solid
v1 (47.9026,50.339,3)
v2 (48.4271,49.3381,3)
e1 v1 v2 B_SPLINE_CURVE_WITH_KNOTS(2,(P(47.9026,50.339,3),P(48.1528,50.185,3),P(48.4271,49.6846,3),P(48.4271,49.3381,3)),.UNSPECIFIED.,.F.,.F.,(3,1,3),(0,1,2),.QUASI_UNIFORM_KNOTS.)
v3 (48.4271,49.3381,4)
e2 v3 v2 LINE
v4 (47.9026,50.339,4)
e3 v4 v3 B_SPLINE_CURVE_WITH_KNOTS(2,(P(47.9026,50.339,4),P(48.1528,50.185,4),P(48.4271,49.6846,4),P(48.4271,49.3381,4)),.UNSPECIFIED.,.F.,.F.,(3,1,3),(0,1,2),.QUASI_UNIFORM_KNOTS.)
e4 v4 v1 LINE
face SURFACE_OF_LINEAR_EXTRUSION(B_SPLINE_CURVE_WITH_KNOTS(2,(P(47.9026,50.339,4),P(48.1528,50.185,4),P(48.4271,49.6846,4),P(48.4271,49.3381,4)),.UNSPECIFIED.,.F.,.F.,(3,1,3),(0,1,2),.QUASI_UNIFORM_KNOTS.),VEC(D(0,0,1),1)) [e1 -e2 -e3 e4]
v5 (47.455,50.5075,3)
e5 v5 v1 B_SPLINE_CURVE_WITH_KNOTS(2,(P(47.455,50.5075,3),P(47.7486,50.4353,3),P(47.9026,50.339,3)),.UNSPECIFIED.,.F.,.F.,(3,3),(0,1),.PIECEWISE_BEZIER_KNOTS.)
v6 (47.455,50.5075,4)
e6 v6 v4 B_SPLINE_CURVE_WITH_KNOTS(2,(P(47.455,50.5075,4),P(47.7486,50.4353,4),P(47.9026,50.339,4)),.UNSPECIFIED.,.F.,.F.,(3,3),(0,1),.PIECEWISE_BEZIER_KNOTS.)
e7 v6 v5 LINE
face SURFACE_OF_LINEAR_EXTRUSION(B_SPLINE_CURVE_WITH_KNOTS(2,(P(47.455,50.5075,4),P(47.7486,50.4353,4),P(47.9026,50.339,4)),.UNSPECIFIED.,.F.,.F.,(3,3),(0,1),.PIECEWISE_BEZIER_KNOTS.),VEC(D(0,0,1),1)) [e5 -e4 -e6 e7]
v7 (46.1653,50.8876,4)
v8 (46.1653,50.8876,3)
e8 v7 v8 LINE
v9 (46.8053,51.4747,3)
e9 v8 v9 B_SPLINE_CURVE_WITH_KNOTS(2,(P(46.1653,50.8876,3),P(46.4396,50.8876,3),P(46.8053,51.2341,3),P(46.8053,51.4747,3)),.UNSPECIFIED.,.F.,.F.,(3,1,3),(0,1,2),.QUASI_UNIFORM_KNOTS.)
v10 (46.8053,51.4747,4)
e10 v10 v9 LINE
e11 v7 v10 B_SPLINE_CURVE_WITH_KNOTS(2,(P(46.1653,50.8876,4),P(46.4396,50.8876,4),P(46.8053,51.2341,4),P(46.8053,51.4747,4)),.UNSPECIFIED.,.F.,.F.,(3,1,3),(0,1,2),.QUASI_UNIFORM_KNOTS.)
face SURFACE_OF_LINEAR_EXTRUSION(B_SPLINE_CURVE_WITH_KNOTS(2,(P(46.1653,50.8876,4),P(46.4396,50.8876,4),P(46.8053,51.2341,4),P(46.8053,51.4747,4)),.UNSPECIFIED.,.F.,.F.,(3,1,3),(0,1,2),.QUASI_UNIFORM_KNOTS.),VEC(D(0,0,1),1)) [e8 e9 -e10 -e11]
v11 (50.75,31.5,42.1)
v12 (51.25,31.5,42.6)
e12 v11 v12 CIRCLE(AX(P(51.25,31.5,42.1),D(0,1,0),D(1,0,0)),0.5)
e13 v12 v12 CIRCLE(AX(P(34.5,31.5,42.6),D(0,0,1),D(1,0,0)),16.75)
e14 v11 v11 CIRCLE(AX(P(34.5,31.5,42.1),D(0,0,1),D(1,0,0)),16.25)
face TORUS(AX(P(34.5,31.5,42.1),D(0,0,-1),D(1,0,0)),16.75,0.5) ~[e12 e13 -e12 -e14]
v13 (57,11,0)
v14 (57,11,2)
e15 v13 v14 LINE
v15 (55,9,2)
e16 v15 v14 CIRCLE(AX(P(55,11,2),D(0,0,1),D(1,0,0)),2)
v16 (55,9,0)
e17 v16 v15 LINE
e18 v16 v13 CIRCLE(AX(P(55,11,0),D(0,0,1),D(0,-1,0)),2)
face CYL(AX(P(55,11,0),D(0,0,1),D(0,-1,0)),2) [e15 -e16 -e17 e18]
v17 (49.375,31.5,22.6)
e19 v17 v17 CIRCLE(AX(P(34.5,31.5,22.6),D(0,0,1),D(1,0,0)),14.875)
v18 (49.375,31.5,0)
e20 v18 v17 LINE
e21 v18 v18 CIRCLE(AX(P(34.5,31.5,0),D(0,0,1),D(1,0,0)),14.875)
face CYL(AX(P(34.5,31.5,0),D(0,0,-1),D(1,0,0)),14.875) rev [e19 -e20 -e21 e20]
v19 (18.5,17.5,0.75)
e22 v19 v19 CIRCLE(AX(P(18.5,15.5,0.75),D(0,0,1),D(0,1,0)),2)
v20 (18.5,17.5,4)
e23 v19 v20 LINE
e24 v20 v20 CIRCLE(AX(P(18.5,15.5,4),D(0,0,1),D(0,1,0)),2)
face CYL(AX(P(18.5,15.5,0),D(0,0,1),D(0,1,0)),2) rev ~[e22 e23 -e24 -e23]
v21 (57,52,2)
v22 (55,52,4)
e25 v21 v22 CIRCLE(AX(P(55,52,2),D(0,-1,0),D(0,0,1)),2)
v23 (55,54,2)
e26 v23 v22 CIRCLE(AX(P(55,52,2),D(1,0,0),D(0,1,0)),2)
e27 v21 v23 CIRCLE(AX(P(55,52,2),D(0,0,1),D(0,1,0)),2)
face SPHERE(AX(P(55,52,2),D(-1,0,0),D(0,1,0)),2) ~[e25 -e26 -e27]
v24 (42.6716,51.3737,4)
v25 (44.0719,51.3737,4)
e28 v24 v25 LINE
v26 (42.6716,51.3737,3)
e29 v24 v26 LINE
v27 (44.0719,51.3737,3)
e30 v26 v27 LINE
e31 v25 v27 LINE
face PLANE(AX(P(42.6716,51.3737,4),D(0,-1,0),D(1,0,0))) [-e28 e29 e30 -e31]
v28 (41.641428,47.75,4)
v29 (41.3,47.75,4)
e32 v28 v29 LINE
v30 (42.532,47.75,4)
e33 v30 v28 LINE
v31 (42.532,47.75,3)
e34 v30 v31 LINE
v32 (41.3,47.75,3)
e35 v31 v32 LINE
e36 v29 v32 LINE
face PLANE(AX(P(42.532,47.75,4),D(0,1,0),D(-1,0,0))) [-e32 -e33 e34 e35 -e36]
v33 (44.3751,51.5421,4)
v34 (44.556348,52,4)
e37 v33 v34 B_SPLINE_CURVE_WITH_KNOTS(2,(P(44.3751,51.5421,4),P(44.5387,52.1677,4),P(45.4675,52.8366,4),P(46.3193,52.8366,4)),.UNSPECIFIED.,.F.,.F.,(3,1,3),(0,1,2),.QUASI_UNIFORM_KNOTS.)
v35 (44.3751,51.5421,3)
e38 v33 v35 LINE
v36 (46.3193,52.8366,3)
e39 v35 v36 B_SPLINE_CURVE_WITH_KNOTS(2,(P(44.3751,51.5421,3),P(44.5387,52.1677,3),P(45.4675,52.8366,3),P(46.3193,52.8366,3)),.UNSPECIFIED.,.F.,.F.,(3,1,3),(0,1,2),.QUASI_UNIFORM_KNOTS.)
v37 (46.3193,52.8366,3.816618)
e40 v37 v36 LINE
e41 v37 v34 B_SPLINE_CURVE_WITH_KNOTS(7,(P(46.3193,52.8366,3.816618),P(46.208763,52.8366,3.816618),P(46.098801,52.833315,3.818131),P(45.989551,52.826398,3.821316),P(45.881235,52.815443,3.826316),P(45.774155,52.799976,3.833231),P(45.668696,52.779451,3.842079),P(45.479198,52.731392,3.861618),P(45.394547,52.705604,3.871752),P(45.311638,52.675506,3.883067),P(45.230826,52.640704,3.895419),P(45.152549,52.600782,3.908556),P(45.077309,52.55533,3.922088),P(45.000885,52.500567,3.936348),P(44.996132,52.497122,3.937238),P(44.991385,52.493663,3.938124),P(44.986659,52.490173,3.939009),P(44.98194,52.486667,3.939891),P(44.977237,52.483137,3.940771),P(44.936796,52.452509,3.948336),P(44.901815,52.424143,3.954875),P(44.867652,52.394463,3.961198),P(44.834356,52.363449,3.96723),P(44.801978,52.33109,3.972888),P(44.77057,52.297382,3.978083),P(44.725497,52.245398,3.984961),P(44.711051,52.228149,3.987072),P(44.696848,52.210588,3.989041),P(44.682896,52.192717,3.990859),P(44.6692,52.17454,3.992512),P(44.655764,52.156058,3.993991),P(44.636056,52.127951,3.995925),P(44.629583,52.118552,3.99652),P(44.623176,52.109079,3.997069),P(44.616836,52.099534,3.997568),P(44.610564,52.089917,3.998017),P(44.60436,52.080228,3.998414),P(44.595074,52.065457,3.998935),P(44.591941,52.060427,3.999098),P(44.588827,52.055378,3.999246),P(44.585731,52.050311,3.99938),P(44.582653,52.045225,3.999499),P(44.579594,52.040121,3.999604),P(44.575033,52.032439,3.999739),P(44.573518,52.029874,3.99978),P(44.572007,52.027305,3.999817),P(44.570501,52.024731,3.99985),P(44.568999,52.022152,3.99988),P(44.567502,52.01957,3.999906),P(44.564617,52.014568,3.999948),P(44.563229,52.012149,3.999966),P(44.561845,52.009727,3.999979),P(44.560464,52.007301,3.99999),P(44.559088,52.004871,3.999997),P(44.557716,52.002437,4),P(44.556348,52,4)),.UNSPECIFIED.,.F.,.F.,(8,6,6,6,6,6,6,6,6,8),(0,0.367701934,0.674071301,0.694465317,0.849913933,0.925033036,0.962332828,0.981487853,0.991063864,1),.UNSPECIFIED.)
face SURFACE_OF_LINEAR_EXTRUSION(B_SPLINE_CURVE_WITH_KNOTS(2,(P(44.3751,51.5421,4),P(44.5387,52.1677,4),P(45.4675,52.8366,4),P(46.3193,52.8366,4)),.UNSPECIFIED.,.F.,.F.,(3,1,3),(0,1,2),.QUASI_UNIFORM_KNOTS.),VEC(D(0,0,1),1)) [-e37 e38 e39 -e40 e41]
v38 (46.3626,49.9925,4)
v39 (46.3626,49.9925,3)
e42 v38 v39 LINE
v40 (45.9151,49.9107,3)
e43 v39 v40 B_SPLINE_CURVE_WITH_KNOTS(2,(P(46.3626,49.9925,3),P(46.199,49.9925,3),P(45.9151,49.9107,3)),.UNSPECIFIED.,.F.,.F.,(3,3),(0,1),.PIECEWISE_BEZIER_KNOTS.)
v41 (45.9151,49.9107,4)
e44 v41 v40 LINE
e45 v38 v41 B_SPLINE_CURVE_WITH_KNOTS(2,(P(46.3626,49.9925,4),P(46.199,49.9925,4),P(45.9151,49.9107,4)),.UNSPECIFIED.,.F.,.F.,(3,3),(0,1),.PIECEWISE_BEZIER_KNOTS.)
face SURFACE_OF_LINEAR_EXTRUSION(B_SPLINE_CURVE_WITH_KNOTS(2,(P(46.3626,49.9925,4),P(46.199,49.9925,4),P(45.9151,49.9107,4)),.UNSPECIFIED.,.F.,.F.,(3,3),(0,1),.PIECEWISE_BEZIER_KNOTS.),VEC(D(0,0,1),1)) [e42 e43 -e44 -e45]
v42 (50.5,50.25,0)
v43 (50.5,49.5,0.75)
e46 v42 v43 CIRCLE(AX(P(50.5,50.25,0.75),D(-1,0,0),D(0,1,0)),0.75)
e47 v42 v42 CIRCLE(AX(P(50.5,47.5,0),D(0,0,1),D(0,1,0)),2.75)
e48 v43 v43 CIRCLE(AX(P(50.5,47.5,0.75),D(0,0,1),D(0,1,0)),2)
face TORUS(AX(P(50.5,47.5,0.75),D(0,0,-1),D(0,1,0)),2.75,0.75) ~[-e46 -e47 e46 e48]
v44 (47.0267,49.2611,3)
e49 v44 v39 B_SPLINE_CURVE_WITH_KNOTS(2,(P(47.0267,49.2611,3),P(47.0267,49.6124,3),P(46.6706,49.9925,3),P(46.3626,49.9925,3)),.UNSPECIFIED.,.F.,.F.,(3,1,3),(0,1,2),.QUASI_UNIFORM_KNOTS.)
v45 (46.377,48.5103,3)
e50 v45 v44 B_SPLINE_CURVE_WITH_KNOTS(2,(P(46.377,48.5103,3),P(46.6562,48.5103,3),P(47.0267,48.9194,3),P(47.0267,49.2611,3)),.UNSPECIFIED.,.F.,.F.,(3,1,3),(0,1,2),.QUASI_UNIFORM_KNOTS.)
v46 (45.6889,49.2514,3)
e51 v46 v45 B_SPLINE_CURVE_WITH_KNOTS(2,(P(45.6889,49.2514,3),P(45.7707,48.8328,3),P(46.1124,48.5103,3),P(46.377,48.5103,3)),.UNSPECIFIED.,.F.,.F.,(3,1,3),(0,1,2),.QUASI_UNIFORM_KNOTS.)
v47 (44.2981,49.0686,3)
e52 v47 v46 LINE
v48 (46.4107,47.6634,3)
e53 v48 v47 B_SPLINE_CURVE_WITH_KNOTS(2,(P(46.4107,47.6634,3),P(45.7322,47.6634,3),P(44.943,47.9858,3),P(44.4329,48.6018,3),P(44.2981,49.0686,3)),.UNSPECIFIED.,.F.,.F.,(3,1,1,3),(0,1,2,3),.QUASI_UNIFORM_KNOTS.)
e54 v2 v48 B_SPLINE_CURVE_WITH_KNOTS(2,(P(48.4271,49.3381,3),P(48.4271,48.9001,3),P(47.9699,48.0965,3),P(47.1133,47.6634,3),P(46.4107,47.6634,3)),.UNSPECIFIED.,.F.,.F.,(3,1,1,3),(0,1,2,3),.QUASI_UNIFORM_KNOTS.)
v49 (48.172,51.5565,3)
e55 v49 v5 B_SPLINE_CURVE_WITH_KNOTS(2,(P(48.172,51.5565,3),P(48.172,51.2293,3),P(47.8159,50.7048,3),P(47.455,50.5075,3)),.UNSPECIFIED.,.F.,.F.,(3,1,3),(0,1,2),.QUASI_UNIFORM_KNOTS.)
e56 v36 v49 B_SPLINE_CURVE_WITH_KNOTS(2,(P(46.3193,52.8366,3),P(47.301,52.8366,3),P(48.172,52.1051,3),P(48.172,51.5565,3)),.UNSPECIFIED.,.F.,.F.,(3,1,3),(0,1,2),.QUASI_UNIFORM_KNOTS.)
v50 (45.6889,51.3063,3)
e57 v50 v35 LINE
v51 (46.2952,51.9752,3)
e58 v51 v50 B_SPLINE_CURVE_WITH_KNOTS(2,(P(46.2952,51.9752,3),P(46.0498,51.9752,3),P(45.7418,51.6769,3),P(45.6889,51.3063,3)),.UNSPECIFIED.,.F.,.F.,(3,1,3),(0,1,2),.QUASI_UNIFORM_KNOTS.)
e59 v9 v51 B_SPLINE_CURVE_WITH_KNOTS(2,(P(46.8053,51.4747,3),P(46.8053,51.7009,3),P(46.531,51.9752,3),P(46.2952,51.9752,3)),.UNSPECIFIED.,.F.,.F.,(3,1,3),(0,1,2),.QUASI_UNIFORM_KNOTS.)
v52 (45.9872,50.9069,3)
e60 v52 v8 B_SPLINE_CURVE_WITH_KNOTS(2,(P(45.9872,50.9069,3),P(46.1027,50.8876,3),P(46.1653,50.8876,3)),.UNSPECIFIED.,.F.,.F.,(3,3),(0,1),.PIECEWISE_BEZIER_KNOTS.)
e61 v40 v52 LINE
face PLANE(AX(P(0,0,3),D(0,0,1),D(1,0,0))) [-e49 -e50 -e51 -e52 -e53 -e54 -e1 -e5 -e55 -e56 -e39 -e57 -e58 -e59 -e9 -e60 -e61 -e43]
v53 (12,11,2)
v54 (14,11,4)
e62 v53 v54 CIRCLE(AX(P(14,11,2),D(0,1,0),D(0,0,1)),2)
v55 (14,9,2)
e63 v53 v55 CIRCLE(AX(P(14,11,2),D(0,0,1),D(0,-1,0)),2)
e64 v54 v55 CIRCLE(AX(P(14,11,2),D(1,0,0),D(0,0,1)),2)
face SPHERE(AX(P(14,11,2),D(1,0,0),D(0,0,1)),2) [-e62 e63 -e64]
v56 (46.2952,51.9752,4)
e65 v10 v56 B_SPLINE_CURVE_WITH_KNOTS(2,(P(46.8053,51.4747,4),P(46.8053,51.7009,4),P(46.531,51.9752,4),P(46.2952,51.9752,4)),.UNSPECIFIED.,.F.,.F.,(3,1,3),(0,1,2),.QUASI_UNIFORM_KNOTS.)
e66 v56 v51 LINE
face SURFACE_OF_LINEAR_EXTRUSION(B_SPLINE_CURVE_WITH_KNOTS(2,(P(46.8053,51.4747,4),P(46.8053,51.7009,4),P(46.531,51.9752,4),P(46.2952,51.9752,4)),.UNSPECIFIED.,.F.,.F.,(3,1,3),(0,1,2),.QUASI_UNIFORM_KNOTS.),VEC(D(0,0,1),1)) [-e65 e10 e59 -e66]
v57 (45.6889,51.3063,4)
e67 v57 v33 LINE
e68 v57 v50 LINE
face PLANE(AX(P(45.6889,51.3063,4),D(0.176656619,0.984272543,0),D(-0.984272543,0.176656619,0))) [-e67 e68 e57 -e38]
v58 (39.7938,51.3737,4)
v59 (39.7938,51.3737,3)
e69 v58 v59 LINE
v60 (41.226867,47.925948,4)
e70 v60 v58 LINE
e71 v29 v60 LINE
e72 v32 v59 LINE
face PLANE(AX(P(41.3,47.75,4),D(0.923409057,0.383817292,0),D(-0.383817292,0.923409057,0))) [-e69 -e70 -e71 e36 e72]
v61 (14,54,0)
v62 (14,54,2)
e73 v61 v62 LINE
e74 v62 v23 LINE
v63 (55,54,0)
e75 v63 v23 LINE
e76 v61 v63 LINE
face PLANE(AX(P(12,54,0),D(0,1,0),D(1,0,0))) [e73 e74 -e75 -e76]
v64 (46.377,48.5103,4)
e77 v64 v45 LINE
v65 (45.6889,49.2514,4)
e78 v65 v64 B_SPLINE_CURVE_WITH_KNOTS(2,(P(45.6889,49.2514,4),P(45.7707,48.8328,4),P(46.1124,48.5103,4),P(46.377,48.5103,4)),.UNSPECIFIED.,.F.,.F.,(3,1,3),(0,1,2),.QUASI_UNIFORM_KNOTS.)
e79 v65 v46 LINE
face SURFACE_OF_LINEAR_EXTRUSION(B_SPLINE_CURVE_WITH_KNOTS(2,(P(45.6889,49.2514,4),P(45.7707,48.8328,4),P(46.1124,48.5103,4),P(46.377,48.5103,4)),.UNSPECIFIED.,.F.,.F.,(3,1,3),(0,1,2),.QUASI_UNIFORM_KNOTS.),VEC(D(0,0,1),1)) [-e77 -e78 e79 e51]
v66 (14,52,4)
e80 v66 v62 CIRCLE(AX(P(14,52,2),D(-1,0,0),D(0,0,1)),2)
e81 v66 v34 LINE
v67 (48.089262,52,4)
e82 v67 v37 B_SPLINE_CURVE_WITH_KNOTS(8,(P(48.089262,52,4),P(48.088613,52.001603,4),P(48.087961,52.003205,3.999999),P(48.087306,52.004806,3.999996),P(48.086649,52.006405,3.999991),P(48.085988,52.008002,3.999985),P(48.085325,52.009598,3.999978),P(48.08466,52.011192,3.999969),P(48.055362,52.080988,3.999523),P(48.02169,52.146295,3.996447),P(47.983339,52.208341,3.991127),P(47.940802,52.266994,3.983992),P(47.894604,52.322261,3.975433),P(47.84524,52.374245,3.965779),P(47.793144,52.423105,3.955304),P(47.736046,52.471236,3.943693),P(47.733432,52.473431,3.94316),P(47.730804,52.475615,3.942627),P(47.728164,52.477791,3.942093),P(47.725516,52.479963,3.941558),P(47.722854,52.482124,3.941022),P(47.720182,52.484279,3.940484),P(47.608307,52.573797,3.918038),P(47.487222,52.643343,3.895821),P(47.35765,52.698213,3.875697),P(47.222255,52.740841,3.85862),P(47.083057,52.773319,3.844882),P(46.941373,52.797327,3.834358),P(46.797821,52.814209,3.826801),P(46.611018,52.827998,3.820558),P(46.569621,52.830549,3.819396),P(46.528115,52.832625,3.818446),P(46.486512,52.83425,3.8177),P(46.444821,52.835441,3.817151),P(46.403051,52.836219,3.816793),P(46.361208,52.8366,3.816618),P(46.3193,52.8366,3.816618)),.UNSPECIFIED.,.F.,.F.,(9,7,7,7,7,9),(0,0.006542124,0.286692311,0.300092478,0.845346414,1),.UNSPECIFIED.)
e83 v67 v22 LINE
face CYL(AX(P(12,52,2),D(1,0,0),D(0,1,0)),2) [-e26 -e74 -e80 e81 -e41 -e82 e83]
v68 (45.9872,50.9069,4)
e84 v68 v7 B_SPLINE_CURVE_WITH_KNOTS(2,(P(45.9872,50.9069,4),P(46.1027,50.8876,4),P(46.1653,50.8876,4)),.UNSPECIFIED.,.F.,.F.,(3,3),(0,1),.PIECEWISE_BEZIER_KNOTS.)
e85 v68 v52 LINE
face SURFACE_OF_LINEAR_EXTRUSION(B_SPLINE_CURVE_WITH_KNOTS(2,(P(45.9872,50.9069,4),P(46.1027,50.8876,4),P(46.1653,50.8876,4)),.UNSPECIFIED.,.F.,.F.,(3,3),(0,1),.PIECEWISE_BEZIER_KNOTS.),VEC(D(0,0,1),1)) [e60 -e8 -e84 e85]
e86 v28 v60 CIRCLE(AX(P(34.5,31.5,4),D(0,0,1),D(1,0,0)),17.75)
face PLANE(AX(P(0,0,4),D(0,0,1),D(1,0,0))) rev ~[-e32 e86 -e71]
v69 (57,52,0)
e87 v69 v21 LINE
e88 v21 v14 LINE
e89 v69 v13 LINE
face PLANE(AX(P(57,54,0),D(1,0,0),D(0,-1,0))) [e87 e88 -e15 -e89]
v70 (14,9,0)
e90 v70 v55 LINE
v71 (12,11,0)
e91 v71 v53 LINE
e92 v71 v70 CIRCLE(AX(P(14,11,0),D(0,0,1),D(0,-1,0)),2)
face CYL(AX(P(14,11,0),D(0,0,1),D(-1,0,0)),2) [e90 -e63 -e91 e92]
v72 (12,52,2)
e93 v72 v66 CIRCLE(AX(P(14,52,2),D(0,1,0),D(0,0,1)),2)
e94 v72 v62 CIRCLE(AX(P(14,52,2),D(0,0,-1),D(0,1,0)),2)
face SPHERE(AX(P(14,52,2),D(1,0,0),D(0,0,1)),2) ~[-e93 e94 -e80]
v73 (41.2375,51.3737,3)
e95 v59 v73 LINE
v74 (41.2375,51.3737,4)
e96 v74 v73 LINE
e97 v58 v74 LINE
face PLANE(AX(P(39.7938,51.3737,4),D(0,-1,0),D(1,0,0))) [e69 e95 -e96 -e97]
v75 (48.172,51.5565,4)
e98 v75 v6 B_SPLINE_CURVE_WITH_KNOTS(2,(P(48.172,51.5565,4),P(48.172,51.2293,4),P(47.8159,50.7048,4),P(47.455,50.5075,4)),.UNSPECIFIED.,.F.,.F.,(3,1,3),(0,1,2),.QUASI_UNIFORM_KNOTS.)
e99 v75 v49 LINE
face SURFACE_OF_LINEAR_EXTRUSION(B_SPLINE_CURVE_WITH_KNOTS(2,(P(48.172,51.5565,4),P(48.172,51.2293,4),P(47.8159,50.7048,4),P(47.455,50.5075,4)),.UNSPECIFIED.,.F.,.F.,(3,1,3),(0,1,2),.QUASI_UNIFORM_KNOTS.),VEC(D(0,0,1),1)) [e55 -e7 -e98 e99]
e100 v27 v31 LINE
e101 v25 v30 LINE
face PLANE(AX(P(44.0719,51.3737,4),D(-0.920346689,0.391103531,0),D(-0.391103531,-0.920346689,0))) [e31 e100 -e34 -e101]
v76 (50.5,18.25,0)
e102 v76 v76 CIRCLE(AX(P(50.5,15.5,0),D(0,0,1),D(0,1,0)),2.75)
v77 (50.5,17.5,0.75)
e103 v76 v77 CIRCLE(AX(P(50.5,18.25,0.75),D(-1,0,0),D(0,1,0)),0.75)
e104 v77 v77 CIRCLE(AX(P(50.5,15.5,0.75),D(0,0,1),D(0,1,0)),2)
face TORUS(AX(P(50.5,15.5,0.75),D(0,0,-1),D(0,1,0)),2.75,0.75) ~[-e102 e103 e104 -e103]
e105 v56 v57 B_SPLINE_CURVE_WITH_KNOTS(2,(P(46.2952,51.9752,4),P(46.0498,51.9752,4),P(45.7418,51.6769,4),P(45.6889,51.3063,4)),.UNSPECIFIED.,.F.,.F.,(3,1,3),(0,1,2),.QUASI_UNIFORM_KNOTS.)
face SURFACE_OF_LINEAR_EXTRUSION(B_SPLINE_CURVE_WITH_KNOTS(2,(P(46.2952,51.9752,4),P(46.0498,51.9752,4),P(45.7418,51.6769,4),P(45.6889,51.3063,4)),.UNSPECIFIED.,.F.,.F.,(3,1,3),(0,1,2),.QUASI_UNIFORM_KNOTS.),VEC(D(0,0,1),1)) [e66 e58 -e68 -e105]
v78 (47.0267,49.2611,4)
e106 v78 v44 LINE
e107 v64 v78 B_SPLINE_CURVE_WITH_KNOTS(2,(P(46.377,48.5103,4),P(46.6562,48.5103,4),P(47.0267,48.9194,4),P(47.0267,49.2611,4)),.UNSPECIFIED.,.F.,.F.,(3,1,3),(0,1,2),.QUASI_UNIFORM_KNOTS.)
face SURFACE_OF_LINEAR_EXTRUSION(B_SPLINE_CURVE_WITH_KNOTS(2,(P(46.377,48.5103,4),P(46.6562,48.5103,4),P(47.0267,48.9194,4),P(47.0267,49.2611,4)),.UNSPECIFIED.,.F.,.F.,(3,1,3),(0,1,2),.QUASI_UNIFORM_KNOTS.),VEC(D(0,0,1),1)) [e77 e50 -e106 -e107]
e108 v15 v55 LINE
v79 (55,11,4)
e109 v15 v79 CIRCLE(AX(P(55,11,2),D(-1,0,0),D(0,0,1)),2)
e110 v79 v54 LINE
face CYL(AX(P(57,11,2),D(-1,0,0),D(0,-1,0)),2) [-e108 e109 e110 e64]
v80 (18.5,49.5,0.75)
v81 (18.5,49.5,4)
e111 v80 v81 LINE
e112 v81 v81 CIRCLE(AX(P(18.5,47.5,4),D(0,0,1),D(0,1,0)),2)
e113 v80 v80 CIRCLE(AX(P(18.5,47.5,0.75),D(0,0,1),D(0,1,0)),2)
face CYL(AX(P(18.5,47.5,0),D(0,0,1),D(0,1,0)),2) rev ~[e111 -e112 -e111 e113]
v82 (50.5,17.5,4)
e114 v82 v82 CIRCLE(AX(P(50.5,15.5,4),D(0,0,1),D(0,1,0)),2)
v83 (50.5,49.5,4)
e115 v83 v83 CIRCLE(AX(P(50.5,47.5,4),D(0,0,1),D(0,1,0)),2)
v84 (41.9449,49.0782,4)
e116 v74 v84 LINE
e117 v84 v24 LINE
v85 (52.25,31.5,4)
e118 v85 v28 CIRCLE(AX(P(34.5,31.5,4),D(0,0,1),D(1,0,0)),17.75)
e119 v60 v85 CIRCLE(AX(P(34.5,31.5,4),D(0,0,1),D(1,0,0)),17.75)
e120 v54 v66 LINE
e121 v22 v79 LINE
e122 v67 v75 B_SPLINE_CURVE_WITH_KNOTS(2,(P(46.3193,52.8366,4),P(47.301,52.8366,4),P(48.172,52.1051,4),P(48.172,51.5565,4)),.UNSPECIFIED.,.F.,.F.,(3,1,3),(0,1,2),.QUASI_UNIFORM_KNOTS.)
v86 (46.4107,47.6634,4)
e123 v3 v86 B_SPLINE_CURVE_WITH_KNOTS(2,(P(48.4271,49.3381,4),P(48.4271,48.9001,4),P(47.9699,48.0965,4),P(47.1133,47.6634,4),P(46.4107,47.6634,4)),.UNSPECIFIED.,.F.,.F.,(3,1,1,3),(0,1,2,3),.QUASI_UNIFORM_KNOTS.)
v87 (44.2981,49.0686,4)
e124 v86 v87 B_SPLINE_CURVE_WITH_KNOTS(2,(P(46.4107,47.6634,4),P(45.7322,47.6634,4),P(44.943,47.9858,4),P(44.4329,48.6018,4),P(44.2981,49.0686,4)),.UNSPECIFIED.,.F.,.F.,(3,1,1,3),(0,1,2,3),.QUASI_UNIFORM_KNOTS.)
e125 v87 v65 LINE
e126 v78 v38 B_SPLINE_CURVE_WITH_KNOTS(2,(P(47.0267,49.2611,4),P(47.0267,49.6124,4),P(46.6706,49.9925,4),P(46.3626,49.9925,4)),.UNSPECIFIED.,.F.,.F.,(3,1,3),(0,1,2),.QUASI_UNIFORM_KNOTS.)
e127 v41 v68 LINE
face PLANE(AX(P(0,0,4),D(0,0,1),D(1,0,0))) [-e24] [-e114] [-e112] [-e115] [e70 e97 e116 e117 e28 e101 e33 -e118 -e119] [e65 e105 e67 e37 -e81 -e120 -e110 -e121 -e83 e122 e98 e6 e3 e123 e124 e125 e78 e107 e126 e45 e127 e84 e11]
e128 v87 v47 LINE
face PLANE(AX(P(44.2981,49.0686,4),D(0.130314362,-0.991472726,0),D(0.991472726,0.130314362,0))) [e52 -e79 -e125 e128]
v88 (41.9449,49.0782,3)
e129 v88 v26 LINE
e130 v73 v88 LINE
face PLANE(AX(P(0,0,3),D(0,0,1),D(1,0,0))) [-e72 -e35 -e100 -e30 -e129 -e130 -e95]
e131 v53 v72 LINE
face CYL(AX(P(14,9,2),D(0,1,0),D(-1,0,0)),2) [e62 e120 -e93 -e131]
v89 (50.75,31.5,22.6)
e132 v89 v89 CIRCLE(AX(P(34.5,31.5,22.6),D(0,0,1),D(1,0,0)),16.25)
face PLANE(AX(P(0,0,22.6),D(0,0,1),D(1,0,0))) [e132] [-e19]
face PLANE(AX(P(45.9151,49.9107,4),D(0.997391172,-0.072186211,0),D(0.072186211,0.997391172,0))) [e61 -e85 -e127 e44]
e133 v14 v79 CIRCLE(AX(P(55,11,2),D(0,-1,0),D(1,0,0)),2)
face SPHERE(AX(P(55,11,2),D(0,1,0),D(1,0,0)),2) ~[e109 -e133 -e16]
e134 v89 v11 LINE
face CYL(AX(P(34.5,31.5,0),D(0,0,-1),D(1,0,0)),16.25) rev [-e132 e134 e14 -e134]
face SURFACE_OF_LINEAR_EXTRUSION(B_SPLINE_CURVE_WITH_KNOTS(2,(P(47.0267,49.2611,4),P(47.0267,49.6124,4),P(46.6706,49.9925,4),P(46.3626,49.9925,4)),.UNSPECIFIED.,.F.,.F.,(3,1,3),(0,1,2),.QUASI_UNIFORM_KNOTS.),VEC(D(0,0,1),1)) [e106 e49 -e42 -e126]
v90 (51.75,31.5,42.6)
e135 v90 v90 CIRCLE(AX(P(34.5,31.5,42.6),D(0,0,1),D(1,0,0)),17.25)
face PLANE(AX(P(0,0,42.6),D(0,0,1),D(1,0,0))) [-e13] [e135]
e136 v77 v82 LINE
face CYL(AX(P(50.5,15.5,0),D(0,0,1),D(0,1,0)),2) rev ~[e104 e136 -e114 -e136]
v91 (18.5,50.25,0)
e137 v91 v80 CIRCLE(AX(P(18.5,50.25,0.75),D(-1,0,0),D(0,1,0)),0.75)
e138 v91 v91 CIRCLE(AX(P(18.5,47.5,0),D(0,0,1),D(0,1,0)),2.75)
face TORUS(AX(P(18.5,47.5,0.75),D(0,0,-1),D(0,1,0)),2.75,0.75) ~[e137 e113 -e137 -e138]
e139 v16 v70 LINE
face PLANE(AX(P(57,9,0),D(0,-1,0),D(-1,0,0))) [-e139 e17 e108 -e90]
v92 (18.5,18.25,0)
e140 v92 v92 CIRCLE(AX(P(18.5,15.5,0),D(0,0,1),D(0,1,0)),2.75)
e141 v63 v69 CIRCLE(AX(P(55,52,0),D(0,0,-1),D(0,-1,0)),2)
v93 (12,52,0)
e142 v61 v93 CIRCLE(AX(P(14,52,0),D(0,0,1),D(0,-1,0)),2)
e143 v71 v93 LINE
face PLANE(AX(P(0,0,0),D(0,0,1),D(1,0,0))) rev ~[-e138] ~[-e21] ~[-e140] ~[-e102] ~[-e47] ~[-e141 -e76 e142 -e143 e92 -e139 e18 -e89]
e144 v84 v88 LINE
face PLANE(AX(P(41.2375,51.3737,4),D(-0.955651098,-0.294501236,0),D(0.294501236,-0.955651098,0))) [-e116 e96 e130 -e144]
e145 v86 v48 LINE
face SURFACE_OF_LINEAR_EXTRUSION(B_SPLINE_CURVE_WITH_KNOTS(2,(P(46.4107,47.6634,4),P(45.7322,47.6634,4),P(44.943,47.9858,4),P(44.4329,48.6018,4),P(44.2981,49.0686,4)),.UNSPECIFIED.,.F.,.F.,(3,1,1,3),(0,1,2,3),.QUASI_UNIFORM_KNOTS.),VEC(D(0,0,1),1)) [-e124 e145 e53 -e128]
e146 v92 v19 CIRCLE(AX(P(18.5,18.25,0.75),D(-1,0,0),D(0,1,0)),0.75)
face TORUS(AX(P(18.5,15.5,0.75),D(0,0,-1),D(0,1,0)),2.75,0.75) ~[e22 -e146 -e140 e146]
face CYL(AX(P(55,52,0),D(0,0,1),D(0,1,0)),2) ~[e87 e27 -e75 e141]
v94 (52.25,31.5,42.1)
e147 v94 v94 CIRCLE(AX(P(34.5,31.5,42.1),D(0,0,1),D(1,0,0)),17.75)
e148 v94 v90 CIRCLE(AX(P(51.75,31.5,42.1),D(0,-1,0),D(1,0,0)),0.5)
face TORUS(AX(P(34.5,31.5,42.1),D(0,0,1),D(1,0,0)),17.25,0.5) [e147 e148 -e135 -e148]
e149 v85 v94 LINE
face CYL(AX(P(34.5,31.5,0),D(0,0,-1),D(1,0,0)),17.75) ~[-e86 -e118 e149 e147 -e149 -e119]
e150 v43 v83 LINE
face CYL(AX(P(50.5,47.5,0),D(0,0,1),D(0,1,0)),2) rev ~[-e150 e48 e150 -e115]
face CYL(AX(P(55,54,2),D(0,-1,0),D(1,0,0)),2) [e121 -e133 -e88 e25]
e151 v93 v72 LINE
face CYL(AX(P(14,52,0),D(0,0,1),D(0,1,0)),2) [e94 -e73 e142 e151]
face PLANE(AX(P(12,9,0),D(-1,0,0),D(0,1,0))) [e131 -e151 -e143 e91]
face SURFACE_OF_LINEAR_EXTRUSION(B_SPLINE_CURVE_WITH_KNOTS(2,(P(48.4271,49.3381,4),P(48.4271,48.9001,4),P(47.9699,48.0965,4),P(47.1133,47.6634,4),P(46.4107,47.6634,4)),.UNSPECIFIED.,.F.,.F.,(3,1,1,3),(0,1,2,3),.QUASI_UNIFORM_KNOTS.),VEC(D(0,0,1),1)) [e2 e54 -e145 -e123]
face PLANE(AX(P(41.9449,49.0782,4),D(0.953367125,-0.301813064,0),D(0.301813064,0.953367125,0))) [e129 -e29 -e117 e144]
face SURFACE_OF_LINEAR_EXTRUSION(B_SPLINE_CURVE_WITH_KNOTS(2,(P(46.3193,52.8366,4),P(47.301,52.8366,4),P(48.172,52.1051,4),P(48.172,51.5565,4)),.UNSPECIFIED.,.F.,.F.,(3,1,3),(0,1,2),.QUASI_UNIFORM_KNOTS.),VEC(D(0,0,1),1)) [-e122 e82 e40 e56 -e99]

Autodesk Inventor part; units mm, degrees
ref_plane "YZ Plane" through (0, 0, 0) normal (1, 0, 0) x (0, 1, 0)
ref_plane "XZ Plane" through (0, 0, 0) normal (0, 1, 0) x (-1, 0, 0)
ref_plane "XY Plane" through (0, 0, 0) normal (0, 0, 1) x (1, 0, 0)
sketch "Sketch1: base" plane through (0, 0, 0) normal (0, 0, 1) x (1, 0, 0)
  circle A0 centre (34.5, 31.5) radius 16.25
  line L0 (12, 54) -> (57, 54)
  line L1 (57, 54) -> (57, 9)
  line L2 (57, 9) -> (12, 9)
  line L3 (12, 9) -> (12, 54)
  line L4 (18.5, 47.5) -> (50.5, 47.5) construction
  line L5 (50.5, 47.5) -> (50.5, 15.5) construction
  line L6 (50.5, 15.5) -> (18.5, 15.5) construction
  line L7 (18.5, 15.5) -> (18.5, 47.5) construction
  circle A1 centre (50.5, 47.5) radius 1.8 construction
  circle A2 centre (50.5, 47.5) radius 3.25 construction
  circle A3 centre (34.5, 31.5) radius 17.75
  point P0 (0, 0)
  point P1 (34.5, 54)
  point P2 (12, 31.5)
  point P3 (34.5, 47.5)
  point P4 (50.5, 31.5)
  point P5 (57, 31.5)
  dimension "d0" = 45
  dimension "d1" = 32
  dimension "d2" = 6.5
  dimension "d3" = 3.6
  dimension "d4" = 32.5
  dimension "d6" = 6.5
  dimension "d18" = 1.5
extrude "Ex1: base" add sketch "Sketch1: base" along normal blind 4 contours L0 L1 L2 L3
sketch "Sketch2: tube stopper" plane through (0, 0, 0) normal (0, 0, 1) x (1, 0, 0)
  circle A0 centre (34.5, 31.5) radius 14.875
  circle A1 centre (34.5, 31.5) radius 16.25 projected
  point P0 (0, 0)
  dimension "d22" = 29.75
hole "Hole1: M3 inserts" at (18.5, 47.5, 0) at (18.5, 15.5, 0) at (50.5, 15.5, 0) at (50.5, 47.5, 0) direction (0, 0, 1) diameter 4 end through all
extrude "Ex2: tube cover" add sketch "Sketch1: base" along normal blind 42.6 contours A3
extrude "Ex3: tube stopper" add sketch "Sketch2: tube stopper" along normal blind 22.6
fillet "Fillet1: outside edges" radius 2 8 edges at (34.5, 54, 4) (57, 54, 2) (57, 31.5, 4) (57, 9, 2) (34.5, 9, 4) (12, 31.5, 4) (12, 54, 2) (12, 9, 2)
fillet "Fillet2: tube cover" radius 0.5 2 edges at (18.25, 31.5, 42.6) (16.75, 31.5, 42.6)
fillet "Fillet3: heat-set" radius 0.75 4 edges at (18.5, 13.5, 0) (50.5, 13.5, 0) (18.5, 45.5, 0) (50.5, 45.5, 0)
sketch "Sketch4: text" plane through (0, 0, 0) normal (0, 0, 1) x (1, 0, 0)
  line L0 (42.5, 52) -> (46, 52) construction
  line L1 (46, 52) -> (46, 48.5) construction
  line L2 (46, 48.5) -> (42.5, 48.5) construction
  line L3 (42.5, 48.5) -> (42.5, 52) construction
  line L4 (12, 54) -> (57, 54) construction
  line L5 (39.7938, 51.3737) -> (41.2375, 51.3737)
  line L6 (41.2375, 51.3737) -> (41.9449, 49.0782)
  line L7 (41.9449, 49.0782) -> (42.6716, 51.3737)
  line L8 (42.6716, 51.3737) -> (44.0719, 51.3737)
  line L9 (44.0719, 51.3737) -> (42.532, 47.75)
  line L10 (42.532, 47.75) -> (41.3, 47.75)
  line L11 (41.3, 47.75) -> (39.7938, 51.3737)
  line L12 (45.6889, 51.3063) -> (44.3751, 51.5421)
  spline S0 degree 2 poles (44.3751, 51.5421) (44.5387, 52.1677) (45.4675, 52.8366) (46.3193, 52.8366) knots 0 0 0 1 2 2 2
  spline S1 degree 2 poles (46.3193, 52.8366) (47.301, 52.8366) (48.172, 52.1051) (48.172, 51.5565) knots 0 0 0 1 2 2 2
  spline S2 degree 2 poles (48.172, 51.5565) (48.172, 51.2293) (47.8159, 50.7048) (47.455, 50.5075) knots 0 0 0 1 2 2 2
  spline S3 degree 2 poles (47.455, 50.5075) (47.7486, 50.4353) (47.9026, 50.339) knots 0 0 0 1 1 1
  spline S4 degree 2 poles (47.9026, 50.339) (48.1528, 50.185) (48.4271, 49.6846) (48.4271, 49.3381) knots 0 0 0 1 2 2 2
  spline S5 degree 2 poles (48.4271, 49.3381) (48.4271, 48.9001) (47.9699, 48.0965) (47.1133, 47.6634) (46.4107, 47.6634) knots 0 0 0 1 2 3 3 3
  spline S6 degree 2 poles (46.4107, 47.6634) (45.7322, 47.6634) (44.943, 47.9858) (44.4329, 48.6018) (44.2981, 49.0686) knots 0 0 0 1 2 3 3 3
  line L13 (44.2981, 49.0686) -> (45.6889, 49.2514)
  spline S7 degree 2 poles (45.6889, 49.2514) (45.7707, 48.8328) (46.1124, 48.5103) (46.377, 48.5103) knots 0 0 0 1 2 2 2
  spline S8 degree 2 poles (46.377, 48.5103) (46.6562, 48.5103) (47.0267, 48.9194) (47.0267, 49.2611) knots 0 0 0 1 2 2 2
  spline S9 degree 2 poles (47.0267, 49.2611) (47.0267, 49.6124) (46.6706, 49.9925) (46.3626, 49.9925) knots 0 0 0 1 2 2 2
  spline S10 degree 2 poles (46.3626, 49.9925) (46.199, 49.9925) (45.9151, 49.9107) knots 0 0 0 1 1 1
  line L14 (45.9151, 49.9107) -> (45.9872, 50.9069)
  spline S11 degree 2 poles (45.9872, 50.9069) (46.1027, 50.8876) (46.1653, 50.8876) knots 0 0 0 1 1 1
  spline S12 degree 2 poles (46.1653, 50.8876) (46.4396, 50.8876) (46.8053, 51.2341) (46.8053, 51.4747) knots 0 0 0 1 2 2 2
  spline S13 degree 2 poles (46.8053, 51.4747) (46.8053, 51.7009) (46.531, 51.9752) (46.2952, 51.9752) knots 0 0 0 1 2 2 2
  spline S14 degree 2 poles (46.2952, 51.9752) (46.0498, 51.9752) (45.7418, 51.6769) (45.6889, 51.3063) knots 0 0 0 1 2 2 2
  point P0 (0, 0)
  point P1 (34.5, 54)
  point P2 (44.25, 52)
  dimension "d26" = 3.5
  dimension "d27" = 2
  dimension "d31" = 11
extrude "Ex4: text" cut sketch "Sketch4: text" against normal blind 1 from surface at 4
properties part number "cage_outside_03"
